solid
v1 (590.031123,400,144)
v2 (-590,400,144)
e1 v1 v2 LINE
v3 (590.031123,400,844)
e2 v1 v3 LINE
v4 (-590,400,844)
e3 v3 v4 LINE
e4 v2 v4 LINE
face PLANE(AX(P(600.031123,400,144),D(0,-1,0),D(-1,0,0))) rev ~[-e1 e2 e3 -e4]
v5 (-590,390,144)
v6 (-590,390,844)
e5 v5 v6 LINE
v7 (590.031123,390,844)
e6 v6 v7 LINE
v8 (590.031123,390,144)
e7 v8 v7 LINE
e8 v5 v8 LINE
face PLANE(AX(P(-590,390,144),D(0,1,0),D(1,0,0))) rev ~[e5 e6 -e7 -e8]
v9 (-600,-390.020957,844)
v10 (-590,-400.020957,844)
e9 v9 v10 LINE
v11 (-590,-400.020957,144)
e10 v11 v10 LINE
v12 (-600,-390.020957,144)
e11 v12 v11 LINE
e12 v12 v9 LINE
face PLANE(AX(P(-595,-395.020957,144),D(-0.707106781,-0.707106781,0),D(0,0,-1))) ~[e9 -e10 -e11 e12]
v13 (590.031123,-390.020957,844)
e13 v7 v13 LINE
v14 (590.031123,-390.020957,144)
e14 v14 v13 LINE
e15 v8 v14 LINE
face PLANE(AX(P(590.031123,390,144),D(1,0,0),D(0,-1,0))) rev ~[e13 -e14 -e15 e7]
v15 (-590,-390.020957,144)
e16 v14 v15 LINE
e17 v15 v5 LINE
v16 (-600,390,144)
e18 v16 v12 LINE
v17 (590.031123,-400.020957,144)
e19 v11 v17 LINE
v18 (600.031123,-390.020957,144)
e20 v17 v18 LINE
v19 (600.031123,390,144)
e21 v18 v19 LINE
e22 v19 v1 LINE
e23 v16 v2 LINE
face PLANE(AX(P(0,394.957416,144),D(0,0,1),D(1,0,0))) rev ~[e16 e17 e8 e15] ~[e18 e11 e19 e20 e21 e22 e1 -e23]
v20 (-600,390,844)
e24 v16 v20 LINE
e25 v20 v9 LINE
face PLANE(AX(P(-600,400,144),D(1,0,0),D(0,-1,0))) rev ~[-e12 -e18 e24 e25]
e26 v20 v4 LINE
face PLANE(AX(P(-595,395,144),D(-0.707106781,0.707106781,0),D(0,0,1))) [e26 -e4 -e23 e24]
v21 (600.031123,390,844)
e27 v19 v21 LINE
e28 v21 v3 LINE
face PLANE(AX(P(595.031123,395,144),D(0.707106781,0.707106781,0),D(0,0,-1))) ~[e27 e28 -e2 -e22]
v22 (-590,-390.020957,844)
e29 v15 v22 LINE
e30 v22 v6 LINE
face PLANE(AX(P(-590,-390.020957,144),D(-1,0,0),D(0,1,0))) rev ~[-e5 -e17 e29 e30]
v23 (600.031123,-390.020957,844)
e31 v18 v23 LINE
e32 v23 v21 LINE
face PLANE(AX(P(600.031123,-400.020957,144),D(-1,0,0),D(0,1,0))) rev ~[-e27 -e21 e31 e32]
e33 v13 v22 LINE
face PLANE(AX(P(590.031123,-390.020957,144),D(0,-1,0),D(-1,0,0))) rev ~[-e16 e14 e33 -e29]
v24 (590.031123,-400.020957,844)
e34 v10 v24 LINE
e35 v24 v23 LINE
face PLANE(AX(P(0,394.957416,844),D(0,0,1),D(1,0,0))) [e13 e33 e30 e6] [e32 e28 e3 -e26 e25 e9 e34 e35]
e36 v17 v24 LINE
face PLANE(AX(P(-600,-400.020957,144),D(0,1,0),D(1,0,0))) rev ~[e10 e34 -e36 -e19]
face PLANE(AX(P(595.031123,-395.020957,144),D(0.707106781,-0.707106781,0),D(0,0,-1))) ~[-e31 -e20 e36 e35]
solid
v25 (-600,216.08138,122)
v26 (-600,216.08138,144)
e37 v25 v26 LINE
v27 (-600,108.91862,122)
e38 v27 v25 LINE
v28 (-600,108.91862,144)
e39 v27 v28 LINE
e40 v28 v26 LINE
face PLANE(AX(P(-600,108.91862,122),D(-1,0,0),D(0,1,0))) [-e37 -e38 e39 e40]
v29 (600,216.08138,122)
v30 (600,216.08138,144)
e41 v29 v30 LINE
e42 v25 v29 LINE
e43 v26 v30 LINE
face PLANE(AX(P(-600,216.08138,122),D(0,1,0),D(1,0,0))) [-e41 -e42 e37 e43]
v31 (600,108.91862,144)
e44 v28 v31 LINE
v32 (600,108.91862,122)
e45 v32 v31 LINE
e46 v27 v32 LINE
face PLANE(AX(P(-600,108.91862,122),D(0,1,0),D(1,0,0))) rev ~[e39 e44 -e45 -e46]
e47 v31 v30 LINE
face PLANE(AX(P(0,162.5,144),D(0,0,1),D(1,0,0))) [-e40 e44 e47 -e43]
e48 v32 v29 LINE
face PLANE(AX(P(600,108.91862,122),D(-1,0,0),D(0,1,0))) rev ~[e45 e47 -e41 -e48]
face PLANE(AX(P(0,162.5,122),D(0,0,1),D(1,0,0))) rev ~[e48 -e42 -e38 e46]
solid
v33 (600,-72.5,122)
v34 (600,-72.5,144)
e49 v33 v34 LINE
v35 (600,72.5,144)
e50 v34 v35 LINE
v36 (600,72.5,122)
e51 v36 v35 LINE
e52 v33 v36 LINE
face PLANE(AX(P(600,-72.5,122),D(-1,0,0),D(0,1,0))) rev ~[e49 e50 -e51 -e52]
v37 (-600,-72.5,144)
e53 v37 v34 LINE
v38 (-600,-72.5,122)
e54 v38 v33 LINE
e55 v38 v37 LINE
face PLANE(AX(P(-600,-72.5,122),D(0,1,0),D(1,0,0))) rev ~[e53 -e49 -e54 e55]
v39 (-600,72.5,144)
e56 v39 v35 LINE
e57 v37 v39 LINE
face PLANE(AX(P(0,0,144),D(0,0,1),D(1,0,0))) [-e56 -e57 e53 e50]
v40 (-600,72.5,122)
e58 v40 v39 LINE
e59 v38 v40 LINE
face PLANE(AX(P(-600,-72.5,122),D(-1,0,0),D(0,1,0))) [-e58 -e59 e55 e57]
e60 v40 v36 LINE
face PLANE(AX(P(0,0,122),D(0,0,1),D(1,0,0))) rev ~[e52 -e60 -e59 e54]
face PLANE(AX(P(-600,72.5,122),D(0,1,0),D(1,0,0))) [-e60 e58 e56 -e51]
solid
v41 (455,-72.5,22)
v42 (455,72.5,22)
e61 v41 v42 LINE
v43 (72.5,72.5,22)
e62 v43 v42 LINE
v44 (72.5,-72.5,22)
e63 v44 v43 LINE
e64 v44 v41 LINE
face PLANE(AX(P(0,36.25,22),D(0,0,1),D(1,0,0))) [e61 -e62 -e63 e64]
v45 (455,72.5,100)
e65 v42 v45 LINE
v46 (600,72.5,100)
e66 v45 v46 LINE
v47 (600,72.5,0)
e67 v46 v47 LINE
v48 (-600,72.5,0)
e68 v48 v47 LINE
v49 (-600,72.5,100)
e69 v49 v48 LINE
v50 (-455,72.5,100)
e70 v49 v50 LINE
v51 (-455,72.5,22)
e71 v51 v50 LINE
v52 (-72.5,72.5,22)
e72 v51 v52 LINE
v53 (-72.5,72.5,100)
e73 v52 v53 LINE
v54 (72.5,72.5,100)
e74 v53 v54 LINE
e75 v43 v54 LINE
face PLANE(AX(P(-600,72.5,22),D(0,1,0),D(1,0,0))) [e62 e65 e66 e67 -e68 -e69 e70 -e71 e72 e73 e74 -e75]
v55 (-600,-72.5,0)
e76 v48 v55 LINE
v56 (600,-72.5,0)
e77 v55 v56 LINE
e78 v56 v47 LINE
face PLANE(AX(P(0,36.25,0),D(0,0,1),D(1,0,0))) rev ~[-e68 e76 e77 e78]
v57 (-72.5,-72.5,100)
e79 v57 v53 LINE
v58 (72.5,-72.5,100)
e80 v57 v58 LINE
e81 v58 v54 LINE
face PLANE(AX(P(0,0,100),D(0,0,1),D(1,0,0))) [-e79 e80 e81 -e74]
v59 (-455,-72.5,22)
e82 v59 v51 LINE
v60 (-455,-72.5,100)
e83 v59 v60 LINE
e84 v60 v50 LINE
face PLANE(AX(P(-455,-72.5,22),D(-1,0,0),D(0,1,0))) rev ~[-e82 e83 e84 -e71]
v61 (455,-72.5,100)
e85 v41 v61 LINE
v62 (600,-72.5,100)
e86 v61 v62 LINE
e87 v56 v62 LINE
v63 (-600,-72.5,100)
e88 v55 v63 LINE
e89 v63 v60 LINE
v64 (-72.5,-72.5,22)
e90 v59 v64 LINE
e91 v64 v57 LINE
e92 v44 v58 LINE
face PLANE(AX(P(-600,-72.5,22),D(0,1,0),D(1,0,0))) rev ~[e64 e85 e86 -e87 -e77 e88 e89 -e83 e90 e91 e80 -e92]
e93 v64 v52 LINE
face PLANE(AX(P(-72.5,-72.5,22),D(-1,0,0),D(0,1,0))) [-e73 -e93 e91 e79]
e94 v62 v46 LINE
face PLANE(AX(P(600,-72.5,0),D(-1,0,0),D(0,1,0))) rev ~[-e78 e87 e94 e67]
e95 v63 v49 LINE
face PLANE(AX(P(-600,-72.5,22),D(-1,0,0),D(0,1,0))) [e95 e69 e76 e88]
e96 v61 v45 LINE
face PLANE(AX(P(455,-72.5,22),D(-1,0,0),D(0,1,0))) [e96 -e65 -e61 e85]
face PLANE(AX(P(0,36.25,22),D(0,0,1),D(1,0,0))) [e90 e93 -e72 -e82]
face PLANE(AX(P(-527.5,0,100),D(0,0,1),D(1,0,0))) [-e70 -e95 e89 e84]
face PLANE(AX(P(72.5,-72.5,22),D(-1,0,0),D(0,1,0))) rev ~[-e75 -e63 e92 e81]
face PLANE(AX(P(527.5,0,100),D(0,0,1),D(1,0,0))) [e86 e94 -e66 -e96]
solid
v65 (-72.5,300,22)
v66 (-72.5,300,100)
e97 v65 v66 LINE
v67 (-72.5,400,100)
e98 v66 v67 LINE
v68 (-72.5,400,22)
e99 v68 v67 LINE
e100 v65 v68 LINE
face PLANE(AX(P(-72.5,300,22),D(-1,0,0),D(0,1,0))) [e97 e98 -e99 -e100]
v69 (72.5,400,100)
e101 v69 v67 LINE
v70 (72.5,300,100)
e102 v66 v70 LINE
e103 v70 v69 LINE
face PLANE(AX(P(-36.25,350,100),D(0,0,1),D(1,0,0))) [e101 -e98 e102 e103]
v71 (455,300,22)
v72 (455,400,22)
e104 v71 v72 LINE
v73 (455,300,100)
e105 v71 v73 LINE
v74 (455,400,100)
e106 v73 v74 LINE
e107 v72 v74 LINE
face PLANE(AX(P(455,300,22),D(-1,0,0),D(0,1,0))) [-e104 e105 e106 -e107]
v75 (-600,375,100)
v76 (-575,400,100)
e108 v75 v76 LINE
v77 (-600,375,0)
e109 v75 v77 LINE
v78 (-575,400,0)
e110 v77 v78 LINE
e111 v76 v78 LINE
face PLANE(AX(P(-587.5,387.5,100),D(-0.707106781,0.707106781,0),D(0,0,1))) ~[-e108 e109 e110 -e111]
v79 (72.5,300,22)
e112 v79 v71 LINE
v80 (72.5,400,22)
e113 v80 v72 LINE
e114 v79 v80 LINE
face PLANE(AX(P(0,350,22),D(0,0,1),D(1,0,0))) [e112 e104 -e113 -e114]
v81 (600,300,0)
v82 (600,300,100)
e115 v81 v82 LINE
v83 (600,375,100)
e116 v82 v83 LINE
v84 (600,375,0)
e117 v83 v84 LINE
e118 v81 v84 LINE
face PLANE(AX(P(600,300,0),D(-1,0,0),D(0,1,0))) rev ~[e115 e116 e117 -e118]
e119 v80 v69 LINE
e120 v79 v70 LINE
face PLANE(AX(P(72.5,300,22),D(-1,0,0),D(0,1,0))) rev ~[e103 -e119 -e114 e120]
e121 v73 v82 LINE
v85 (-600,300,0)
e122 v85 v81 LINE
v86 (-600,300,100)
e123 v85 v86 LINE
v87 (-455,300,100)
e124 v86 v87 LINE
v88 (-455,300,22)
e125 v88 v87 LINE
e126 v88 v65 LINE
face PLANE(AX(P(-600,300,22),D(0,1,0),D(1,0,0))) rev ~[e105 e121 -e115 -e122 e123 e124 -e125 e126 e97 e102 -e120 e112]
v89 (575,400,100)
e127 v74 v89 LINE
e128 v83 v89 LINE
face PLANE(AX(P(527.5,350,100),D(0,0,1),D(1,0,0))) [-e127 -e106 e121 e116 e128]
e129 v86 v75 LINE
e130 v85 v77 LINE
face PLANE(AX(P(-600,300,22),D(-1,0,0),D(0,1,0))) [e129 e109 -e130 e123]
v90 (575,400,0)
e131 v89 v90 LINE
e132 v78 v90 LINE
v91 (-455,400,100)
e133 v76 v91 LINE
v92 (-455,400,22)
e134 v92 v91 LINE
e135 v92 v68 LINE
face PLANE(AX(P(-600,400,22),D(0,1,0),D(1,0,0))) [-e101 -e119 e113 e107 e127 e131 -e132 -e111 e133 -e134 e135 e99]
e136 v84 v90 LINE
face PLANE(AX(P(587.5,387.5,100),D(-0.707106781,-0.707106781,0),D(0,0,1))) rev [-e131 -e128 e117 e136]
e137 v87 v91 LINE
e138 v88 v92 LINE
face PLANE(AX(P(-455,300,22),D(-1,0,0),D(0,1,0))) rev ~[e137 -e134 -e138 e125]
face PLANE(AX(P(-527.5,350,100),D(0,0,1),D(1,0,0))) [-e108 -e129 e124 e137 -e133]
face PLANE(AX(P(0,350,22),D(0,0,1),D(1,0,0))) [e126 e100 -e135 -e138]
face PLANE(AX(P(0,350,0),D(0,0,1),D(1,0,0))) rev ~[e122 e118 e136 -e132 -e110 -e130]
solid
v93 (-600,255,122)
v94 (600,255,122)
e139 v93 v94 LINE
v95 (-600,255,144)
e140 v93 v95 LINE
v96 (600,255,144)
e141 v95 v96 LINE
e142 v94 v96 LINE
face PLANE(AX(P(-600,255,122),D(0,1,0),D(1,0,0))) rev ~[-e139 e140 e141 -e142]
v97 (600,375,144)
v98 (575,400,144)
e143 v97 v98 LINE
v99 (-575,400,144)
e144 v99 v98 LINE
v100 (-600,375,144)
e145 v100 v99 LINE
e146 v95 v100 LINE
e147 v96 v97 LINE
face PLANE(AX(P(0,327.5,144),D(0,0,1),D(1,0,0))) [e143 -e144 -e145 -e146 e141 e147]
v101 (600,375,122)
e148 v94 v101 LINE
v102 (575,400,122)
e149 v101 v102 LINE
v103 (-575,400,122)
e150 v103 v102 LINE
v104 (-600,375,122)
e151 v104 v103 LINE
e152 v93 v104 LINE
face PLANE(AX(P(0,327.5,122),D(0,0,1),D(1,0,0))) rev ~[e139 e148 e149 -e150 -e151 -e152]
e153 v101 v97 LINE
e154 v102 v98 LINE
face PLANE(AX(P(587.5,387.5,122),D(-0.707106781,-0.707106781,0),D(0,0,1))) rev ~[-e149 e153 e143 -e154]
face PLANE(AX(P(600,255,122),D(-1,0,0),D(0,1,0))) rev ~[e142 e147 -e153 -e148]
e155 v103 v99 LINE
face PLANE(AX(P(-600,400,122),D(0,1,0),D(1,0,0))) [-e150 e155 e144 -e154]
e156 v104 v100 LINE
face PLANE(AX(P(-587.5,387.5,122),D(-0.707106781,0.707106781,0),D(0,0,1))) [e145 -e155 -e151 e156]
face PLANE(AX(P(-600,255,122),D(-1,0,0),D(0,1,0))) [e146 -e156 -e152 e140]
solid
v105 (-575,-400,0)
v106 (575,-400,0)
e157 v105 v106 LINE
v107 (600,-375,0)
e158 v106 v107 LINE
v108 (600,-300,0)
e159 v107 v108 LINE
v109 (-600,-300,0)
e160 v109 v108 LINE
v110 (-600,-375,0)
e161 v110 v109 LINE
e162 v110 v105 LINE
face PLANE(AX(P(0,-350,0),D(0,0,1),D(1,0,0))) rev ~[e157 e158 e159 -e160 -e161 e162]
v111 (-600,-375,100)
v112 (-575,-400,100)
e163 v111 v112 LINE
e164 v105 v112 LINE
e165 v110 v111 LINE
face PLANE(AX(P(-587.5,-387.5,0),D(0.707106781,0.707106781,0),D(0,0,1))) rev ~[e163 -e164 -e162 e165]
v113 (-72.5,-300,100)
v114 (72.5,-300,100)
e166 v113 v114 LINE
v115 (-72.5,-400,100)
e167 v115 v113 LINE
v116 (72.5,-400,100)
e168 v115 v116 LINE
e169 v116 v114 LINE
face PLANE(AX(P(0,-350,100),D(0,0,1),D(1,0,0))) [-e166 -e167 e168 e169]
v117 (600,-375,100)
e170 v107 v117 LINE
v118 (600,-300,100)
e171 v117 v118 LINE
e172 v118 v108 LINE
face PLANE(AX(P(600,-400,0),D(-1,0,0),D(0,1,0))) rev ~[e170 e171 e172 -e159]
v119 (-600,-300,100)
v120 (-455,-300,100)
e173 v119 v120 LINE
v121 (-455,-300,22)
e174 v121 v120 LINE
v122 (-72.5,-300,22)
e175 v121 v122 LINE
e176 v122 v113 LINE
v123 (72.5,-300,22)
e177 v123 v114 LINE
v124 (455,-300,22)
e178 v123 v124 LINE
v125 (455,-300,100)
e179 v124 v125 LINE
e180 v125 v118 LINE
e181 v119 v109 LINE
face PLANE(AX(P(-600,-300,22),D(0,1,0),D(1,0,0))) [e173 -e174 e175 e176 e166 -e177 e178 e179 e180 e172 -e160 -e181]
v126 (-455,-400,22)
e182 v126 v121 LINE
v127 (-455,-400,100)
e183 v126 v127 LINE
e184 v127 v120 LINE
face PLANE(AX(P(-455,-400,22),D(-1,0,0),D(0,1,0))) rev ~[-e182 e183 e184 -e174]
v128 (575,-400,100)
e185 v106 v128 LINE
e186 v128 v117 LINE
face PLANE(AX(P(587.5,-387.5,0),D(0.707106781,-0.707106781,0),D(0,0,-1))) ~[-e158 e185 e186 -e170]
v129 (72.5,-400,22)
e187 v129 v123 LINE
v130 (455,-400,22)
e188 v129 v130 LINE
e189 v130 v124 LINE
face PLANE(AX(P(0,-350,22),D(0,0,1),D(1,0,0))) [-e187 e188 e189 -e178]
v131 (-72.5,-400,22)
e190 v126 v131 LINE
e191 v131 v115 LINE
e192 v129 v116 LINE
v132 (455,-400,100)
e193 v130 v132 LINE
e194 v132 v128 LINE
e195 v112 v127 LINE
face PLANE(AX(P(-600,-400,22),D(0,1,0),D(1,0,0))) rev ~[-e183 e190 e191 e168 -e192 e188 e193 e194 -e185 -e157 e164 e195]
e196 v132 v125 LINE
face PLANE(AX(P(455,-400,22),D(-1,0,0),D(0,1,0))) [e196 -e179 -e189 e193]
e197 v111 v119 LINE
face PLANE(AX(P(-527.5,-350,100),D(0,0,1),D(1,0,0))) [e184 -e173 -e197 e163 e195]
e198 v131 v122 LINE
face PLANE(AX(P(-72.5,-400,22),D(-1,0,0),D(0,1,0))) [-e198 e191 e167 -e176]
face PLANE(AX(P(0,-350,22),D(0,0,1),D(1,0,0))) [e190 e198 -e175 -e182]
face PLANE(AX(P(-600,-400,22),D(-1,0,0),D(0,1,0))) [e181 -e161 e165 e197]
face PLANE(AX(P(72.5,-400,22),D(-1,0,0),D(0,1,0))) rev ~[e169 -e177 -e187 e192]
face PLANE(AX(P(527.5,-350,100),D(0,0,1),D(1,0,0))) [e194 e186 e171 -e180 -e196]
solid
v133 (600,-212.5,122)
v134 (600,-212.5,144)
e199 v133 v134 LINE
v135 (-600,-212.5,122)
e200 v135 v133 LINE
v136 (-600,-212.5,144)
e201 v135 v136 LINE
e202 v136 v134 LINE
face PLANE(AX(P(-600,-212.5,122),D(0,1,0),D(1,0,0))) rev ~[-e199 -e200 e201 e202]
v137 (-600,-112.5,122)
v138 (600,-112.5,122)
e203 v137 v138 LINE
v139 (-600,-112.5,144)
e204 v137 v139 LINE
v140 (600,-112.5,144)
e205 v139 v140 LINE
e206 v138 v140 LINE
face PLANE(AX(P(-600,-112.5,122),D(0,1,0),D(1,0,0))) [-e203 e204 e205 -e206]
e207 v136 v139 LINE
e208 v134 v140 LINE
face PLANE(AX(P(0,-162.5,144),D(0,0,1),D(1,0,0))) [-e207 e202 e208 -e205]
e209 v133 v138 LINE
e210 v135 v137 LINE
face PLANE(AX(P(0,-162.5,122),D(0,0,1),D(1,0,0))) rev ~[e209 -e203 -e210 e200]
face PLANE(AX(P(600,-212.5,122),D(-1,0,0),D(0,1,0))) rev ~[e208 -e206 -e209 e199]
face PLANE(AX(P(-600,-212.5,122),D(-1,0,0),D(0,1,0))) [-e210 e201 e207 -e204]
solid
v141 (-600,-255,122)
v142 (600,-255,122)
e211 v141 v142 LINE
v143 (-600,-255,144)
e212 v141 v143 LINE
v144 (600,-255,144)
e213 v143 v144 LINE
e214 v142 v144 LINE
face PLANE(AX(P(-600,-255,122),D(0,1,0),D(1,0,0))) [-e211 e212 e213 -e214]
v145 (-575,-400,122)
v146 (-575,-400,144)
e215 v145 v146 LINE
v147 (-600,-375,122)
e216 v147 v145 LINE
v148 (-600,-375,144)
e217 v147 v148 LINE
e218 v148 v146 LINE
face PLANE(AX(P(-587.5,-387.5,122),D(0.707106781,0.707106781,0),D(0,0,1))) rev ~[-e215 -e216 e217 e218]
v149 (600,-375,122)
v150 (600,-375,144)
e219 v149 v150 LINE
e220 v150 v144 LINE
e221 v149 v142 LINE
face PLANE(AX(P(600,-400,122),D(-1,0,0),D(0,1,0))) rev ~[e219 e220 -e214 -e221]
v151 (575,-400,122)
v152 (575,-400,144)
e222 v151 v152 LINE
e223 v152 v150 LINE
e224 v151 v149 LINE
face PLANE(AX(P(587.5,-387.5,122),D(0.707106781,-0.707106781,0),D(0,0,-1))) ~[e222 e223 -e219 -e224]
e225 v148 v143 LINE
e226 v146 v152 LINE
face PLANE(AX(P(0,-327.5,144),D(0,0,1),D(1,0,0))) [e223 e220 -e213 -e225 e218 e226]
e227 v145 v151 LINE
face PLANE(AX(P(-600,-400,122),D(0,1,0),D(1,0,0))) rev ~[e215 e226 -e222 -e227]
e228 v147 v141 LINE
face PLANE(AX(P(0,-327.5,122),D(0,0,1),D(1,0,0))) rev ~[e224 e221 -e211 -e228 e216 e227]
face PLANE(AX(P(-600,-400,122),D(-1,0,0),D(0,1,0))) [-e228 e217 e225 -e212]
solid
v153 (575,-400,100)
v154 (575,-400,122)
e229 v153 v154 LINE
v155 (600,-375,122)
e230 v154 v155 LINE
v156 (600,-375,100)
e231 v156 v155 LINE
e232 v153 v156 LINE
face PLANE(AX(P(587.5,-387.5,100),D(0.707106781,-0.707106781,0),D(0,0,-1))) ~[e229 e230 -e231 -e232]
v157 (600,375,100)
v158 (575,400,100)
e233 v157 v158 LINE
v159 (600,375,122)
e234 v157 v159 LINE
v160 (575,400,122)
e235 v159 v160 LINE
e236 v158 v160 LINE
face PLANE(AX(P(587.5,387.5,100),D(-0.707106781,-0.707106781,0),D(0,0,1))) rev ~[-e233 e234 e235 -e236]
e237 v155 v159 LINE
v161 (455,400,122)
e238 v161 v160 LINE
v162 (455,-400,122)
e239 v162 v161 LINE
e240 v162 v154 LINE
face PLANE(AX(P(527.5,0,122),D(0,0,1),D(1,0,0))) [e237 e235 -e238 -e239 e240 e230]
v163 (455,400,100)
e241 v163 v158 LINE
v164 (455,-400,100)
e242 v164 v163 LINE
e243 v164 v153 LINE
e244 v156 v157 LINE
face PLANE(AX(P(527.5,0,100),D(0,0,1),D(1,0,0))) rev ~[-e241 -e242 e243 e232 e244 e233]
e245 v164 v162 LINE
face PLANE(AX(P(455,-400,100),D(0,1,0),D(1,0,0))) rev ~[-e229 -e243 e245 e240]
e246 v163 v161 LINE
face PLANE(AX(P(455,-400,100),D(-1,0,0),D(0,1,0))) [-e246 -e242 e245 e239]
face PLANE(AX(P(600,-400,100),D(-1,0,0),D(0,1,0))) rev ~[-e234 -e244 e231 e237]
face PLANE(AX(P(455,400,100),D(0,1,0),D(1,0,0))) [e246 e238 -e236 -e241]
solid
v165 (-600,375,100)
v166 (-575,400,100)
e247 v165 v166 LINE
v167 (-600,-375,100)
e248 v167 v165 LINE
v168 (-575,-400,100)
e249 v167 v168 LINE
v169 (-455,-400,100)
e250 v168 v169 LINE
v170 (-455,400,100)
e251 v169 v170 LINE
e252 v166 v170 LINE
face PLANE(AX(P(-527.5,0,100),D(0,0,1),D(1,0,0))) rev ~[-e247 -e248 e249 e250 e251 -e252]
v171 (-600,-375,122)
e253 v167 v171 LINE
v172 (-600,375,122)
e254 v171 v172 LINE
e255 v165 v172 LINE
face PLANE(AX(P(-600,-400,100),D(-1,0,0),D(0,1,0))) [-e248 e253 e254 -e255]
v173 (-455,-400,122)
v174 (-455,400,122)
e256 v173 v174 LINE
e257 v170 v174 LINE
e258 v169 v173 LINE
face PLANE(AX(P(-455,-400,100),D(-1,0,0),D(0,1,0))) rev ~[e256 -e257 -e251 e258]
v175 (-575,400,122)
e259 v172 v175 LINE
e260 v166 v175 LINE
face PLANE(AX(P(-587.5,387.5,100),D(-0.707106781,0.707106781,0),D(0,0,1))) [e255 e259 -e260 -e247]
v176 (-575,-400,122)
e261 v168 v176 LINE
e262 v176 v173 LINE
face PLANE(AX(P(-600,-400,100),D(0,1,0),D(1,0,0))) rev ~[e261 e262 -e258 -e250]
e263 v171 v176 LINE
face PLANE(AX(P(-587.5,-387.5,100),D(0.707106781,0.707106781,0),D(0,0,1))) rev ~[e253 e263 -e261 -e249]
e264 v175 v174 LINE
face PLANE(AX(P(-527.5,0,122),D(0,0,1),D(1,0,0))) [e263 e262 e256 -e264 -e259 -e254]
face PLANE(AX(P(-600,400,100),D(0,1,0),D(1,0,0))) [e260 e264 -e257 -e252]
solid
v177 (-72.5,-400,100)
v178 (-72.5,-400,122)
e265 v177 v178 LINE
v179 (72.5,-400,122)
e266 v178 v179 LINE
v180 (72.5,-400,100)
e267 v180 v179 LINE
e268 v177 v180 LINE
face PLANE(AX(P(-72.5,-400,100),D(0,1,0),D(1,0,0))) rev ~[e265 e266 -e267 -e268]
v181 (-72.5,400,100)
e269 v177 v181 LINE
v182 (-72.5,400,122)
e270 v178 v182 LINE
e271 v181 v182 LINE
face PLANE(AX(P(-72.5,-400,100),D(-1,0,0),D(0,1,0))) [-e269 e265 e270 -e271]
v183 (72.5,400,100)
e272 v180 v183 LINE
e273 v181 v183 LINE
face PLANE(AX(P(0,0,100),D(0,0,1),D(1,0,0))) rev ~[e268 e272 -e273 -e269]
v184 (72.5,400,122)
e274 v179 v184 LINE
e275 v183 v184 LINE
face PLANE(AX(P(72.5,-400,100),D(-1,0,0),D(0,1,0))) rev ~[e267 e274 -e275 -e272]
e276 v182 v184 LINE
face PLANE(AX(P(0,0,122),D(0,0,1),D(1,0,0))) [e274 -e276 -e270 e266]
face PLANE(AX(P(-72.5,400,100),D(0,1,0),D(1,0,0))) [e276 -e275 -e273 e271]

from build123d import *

# Parameters (mm, degrees)
F0_W       = 1200
F0_H       = 100
F1_DEPTH   = 22
F0_H_2     = 72.5
F2_W       = 145
F2_H       = 100
F2_W_2     = 72.5
F3_DEPTH   = 78
F4_W       = 145
F4_H       = 145
F5_DEPTH   = 78
F6_W       = 145
F6_H       = 100
F7_DEPTH   = 78
F8_W       = 145
F8_H       = 800
F9_DEPTH   = 22
F10_W      = 145
F10_H      = 800
F11_DEPTH  = 22
F12_W      = 145
F12_H      = 800
F13_DEPTH  = 22
F14_W      = 1200
F14_H      = 145
F15_DEPTH  = 22
F16_W      = 1200
F16_H      = 145
F17_DEPTH  = 22
F18_W      = 1200
F18_H      = 145
F19_DEPTH  = 22
F20_W      = 1200
F20_H      = 107.1627608397
F21_DEPTH  = 22
F22_W      = 1200
F22_H      = 100
F23_DEPTH  = 22
F24_SIZE   = 25
F24_2_SIZE = 25
F24_3_SIZE = 25
F24_4_SIZE = 25
F24_5_SIZE = 25
F24_6_SIZE = 25
F26_DEPTH  = 700
F27_SIZE   = 10


with BuildPart() as f1:
    # F0 (on Top) → F1 (new body)
    with BuildSketch(Plane.XY):
        with Locations((0, 350)):
            Rectangle(F0_W, F0_H)
    extrude(amount=F1_DEPTH)

    # F2 (on face) → F3 (join)
    with BuildSketch(Plane.XY.offset(22)):
        with Locations((-527.5, 350)):
            Rectangle(F2_W, F2_H)
        with Locations((-36.25, 350)):
            Rectangle(F2_W_2, F2_H)
        with Locations((36.25, 350)):
            Rectangle(F2_W_2, F2_H)
        with Locations((527.5, 350)):
            Rectangle(F2_W, F2_H)
    extrude(amount=F3_DEPTH)

    # F24#6
    f24_6_edges = [f1.edges().sort_by_distance(p)[0] for p in [
        (600, 400, 50),
        (-600, 400, 50),
    ]]
    chamfer(f24_6_edges, length=F24_6_SIZE)


with BuildPart() as f1b:
    # F0 (on Top) → F1, piece 2 (new body)
    with BuildSketch(Plane.XY):
        with Locations((0, 36.25)):
            Rectangle(F0_W, F0_H_2)
        with Locations((0, -36.25)):
            Rectangle(F0_W, F0_H_2)
    extrude(amount=F1_DEPTH)

    # F4 (on face) → F5 (join)
    with BuildSketch(Plane.XY.offset(22)):
        with Locations((-527.5, 0)):
            Rectangle(F4_W, F4_H)
        Rectangle(F4_W, F4_H)
        with Locations((527.5, 0)):
            Rectangle(F4_W, F4_H)
    extrude(amount=F5_DEPTH)


with BuildPart() as f1c:
    # F0 (on Top) → F1, piece 3 (new body)
    with BuildSketch(Plane.XY):
        with Locations((0, -350)):
            Rectangle(F0_W, F0_H)
    extrude(amount=F1_DEPTH)

    # F6 (on face) → F7 (join)
    with BuildSketch(Plane.XY.offset(22)):
        with Locations((-527.5, -350)):
            Rectangle(F6_W, F6_H)
        with Locations((0, -350)):
            Rectangle(F6_W, F6_H)
        with Locations((527.5, -350)):
            Rectangle(F6_W, F6_H)
    extrude(amount=F7_DEPTH)

    # F24#3
    f24_3_edges = [f1c.edges().sort_by_distance(p)[0] for p in [
        (-600, -400, 50),
        (600, -400, 50),
    ]]
    chamfer(f24_3_edges, length=F24_3_SIZE)


with BuildPart() as f9:
    # F8 (on face) → F9 (new body)
    with BuildSketch(Plane.XY.offset(100)):
        with Locations((-527.5, 0)):
            Rectangle(F8_W, F8_H)
    extrude(amount=F9_DEPTH)

    # F24#2
    f24_2_edges = [f9.edges().sort_by_distance(p)[0] for p in [
        (-600, -400, 111),
        (-600, 400, 111),
    ]]
    chamfer(f24_2_edges, length=F24_2_SIZE)


with BuildPart() as f11:
    # F10 (on face) → F11 (new body)
    with BuildSketch(Plane.XY.offset(100)):
        Rectangle(F10_W, F10_H)
    extrude(amount=F11_DEPTH)


with BuildPart() as f13:
    # F12 (on face) → F13 (new body)
    with BuildSketch(Plane.XY.offset(100)):
        with Locations((527.5, 0)):
            Rectangle(F12_W, F12_H)
    extrude(amount=F13_DEPTH)

    # F24#4
    f24_4_edges = [f13.edges().sort_by_distance(p)[0] for p in [
        (600, -400, 111),
        (600, 400, 111),
    ]]
    chamfer(f24_4_edges, length=F24_4_SIZE)


with BuildPart() as f15:
    # F14 (on face) → F15 (new body)
    with BuildSketch(Plane.XY.offset(122)):
        with Locations((0, 327.5)):
            Rectangle(F14_W, F14_H)
    extrude(amount=F15_DEPTH)

    # F24#5
    f24_5_edges = [f15.edges().sort_by_distance(p)[0] for p in [
        (600, 400, 133),
        (-600, 400, 133),
    ]]
    chamfer(f24_5_edges, length=F24_5_SIZE)


with BuildPart() as f17:
    # F16 (on face) → F17 (new body)
    with BuildSketch(Plane.XY.offset(122)):
        Rectangle(F16_W, F16_H)
    extrude(amount=F17_DEPTH)


with BuildPart() as f19:
    # F18 (on face) → F19 (new body)
    with BuildSketch(Plane.XY.offset(122)):
        with Locations((0, -327.5)):
            Rectangle(F18_W, F18_H)
    extrude(amount=F19_DEPTH)

    # F24
    f24_edges = [f19.edges().sort_by_distance(p)[0] for p in [
        (-600, -400, 133),
        (600, -400, 133),
    ]]
    chamfer(f24_edges, length=F24_SIZE)


with BuildPart() as f21:
    # F20 (on face) → F21 (new body)
    with BuildSketch(Plane.XY.offset(122)):
        with Locations((0, 162.5)):
            Rectangle(F20_W, F20_H)
    extrude(amount=F21_DEPTH)


with BuildPart() as f23:
    # F22 (on face) → F23 (new body)
    with BuildSketch(Plane.XY.offset(122)):
        with Locations((0, -162.5)):
            Rectangle(F22_W, F22_H)
    extrude(amount=F23_DEPTH)


with BuildPart() as f26:
    # F25 (on face) → F26 (new body)
    with BuildSketch(Plane.XY.offset(144)):
        Polygon((575, 400), (-575, 400), (-585, 390), (585, 390), align=None)
        Polygon((-575, 400), (-600, 400), (-600, 375), (-590, 385), (-590, 390), (-585, 390), align=None)
        Polygon((-590, 385), (-600, 375), (-600, 255), (-590, 255), align=None)
        Polygon((600.0311231613, 400), (575, 400), (585, 390), (590.0311231613, 390), (590.0311231613, 384.9688768387), (600, 375), (600, 255), (590.0311231613, 255), (590.0311231613, -390.0209569931), (-590, -390.0209569931), (-590, 255), (-600, 255), (-600, -400.0209569931), (600.0311231613, -400.0209569931), align=None)
        Polygon((600, 375), (590.0311231613, 384.9688768387), (590.0311231613, 255), (600, 255), align=None)
    extrude(amount=F26_DEPTH)

    # F27
    f27_edges = [f26.edges().sort_by_distance(p)[0] for p in [
        (600.031123, -400.020957, 494),
        (-600, -400.020957, 494),
        (-600, 400, 494),
        (600.031123, 400, 494),
    ]]
    chamfer(f27_edges, length=F27_SIZE)


solid = Compound([f1.part, f1b.part, f1c.part, f9.part, f11.part, f13.part, f15.part, f17.part, f19.part, f21.part, f23.part, f26.part])
